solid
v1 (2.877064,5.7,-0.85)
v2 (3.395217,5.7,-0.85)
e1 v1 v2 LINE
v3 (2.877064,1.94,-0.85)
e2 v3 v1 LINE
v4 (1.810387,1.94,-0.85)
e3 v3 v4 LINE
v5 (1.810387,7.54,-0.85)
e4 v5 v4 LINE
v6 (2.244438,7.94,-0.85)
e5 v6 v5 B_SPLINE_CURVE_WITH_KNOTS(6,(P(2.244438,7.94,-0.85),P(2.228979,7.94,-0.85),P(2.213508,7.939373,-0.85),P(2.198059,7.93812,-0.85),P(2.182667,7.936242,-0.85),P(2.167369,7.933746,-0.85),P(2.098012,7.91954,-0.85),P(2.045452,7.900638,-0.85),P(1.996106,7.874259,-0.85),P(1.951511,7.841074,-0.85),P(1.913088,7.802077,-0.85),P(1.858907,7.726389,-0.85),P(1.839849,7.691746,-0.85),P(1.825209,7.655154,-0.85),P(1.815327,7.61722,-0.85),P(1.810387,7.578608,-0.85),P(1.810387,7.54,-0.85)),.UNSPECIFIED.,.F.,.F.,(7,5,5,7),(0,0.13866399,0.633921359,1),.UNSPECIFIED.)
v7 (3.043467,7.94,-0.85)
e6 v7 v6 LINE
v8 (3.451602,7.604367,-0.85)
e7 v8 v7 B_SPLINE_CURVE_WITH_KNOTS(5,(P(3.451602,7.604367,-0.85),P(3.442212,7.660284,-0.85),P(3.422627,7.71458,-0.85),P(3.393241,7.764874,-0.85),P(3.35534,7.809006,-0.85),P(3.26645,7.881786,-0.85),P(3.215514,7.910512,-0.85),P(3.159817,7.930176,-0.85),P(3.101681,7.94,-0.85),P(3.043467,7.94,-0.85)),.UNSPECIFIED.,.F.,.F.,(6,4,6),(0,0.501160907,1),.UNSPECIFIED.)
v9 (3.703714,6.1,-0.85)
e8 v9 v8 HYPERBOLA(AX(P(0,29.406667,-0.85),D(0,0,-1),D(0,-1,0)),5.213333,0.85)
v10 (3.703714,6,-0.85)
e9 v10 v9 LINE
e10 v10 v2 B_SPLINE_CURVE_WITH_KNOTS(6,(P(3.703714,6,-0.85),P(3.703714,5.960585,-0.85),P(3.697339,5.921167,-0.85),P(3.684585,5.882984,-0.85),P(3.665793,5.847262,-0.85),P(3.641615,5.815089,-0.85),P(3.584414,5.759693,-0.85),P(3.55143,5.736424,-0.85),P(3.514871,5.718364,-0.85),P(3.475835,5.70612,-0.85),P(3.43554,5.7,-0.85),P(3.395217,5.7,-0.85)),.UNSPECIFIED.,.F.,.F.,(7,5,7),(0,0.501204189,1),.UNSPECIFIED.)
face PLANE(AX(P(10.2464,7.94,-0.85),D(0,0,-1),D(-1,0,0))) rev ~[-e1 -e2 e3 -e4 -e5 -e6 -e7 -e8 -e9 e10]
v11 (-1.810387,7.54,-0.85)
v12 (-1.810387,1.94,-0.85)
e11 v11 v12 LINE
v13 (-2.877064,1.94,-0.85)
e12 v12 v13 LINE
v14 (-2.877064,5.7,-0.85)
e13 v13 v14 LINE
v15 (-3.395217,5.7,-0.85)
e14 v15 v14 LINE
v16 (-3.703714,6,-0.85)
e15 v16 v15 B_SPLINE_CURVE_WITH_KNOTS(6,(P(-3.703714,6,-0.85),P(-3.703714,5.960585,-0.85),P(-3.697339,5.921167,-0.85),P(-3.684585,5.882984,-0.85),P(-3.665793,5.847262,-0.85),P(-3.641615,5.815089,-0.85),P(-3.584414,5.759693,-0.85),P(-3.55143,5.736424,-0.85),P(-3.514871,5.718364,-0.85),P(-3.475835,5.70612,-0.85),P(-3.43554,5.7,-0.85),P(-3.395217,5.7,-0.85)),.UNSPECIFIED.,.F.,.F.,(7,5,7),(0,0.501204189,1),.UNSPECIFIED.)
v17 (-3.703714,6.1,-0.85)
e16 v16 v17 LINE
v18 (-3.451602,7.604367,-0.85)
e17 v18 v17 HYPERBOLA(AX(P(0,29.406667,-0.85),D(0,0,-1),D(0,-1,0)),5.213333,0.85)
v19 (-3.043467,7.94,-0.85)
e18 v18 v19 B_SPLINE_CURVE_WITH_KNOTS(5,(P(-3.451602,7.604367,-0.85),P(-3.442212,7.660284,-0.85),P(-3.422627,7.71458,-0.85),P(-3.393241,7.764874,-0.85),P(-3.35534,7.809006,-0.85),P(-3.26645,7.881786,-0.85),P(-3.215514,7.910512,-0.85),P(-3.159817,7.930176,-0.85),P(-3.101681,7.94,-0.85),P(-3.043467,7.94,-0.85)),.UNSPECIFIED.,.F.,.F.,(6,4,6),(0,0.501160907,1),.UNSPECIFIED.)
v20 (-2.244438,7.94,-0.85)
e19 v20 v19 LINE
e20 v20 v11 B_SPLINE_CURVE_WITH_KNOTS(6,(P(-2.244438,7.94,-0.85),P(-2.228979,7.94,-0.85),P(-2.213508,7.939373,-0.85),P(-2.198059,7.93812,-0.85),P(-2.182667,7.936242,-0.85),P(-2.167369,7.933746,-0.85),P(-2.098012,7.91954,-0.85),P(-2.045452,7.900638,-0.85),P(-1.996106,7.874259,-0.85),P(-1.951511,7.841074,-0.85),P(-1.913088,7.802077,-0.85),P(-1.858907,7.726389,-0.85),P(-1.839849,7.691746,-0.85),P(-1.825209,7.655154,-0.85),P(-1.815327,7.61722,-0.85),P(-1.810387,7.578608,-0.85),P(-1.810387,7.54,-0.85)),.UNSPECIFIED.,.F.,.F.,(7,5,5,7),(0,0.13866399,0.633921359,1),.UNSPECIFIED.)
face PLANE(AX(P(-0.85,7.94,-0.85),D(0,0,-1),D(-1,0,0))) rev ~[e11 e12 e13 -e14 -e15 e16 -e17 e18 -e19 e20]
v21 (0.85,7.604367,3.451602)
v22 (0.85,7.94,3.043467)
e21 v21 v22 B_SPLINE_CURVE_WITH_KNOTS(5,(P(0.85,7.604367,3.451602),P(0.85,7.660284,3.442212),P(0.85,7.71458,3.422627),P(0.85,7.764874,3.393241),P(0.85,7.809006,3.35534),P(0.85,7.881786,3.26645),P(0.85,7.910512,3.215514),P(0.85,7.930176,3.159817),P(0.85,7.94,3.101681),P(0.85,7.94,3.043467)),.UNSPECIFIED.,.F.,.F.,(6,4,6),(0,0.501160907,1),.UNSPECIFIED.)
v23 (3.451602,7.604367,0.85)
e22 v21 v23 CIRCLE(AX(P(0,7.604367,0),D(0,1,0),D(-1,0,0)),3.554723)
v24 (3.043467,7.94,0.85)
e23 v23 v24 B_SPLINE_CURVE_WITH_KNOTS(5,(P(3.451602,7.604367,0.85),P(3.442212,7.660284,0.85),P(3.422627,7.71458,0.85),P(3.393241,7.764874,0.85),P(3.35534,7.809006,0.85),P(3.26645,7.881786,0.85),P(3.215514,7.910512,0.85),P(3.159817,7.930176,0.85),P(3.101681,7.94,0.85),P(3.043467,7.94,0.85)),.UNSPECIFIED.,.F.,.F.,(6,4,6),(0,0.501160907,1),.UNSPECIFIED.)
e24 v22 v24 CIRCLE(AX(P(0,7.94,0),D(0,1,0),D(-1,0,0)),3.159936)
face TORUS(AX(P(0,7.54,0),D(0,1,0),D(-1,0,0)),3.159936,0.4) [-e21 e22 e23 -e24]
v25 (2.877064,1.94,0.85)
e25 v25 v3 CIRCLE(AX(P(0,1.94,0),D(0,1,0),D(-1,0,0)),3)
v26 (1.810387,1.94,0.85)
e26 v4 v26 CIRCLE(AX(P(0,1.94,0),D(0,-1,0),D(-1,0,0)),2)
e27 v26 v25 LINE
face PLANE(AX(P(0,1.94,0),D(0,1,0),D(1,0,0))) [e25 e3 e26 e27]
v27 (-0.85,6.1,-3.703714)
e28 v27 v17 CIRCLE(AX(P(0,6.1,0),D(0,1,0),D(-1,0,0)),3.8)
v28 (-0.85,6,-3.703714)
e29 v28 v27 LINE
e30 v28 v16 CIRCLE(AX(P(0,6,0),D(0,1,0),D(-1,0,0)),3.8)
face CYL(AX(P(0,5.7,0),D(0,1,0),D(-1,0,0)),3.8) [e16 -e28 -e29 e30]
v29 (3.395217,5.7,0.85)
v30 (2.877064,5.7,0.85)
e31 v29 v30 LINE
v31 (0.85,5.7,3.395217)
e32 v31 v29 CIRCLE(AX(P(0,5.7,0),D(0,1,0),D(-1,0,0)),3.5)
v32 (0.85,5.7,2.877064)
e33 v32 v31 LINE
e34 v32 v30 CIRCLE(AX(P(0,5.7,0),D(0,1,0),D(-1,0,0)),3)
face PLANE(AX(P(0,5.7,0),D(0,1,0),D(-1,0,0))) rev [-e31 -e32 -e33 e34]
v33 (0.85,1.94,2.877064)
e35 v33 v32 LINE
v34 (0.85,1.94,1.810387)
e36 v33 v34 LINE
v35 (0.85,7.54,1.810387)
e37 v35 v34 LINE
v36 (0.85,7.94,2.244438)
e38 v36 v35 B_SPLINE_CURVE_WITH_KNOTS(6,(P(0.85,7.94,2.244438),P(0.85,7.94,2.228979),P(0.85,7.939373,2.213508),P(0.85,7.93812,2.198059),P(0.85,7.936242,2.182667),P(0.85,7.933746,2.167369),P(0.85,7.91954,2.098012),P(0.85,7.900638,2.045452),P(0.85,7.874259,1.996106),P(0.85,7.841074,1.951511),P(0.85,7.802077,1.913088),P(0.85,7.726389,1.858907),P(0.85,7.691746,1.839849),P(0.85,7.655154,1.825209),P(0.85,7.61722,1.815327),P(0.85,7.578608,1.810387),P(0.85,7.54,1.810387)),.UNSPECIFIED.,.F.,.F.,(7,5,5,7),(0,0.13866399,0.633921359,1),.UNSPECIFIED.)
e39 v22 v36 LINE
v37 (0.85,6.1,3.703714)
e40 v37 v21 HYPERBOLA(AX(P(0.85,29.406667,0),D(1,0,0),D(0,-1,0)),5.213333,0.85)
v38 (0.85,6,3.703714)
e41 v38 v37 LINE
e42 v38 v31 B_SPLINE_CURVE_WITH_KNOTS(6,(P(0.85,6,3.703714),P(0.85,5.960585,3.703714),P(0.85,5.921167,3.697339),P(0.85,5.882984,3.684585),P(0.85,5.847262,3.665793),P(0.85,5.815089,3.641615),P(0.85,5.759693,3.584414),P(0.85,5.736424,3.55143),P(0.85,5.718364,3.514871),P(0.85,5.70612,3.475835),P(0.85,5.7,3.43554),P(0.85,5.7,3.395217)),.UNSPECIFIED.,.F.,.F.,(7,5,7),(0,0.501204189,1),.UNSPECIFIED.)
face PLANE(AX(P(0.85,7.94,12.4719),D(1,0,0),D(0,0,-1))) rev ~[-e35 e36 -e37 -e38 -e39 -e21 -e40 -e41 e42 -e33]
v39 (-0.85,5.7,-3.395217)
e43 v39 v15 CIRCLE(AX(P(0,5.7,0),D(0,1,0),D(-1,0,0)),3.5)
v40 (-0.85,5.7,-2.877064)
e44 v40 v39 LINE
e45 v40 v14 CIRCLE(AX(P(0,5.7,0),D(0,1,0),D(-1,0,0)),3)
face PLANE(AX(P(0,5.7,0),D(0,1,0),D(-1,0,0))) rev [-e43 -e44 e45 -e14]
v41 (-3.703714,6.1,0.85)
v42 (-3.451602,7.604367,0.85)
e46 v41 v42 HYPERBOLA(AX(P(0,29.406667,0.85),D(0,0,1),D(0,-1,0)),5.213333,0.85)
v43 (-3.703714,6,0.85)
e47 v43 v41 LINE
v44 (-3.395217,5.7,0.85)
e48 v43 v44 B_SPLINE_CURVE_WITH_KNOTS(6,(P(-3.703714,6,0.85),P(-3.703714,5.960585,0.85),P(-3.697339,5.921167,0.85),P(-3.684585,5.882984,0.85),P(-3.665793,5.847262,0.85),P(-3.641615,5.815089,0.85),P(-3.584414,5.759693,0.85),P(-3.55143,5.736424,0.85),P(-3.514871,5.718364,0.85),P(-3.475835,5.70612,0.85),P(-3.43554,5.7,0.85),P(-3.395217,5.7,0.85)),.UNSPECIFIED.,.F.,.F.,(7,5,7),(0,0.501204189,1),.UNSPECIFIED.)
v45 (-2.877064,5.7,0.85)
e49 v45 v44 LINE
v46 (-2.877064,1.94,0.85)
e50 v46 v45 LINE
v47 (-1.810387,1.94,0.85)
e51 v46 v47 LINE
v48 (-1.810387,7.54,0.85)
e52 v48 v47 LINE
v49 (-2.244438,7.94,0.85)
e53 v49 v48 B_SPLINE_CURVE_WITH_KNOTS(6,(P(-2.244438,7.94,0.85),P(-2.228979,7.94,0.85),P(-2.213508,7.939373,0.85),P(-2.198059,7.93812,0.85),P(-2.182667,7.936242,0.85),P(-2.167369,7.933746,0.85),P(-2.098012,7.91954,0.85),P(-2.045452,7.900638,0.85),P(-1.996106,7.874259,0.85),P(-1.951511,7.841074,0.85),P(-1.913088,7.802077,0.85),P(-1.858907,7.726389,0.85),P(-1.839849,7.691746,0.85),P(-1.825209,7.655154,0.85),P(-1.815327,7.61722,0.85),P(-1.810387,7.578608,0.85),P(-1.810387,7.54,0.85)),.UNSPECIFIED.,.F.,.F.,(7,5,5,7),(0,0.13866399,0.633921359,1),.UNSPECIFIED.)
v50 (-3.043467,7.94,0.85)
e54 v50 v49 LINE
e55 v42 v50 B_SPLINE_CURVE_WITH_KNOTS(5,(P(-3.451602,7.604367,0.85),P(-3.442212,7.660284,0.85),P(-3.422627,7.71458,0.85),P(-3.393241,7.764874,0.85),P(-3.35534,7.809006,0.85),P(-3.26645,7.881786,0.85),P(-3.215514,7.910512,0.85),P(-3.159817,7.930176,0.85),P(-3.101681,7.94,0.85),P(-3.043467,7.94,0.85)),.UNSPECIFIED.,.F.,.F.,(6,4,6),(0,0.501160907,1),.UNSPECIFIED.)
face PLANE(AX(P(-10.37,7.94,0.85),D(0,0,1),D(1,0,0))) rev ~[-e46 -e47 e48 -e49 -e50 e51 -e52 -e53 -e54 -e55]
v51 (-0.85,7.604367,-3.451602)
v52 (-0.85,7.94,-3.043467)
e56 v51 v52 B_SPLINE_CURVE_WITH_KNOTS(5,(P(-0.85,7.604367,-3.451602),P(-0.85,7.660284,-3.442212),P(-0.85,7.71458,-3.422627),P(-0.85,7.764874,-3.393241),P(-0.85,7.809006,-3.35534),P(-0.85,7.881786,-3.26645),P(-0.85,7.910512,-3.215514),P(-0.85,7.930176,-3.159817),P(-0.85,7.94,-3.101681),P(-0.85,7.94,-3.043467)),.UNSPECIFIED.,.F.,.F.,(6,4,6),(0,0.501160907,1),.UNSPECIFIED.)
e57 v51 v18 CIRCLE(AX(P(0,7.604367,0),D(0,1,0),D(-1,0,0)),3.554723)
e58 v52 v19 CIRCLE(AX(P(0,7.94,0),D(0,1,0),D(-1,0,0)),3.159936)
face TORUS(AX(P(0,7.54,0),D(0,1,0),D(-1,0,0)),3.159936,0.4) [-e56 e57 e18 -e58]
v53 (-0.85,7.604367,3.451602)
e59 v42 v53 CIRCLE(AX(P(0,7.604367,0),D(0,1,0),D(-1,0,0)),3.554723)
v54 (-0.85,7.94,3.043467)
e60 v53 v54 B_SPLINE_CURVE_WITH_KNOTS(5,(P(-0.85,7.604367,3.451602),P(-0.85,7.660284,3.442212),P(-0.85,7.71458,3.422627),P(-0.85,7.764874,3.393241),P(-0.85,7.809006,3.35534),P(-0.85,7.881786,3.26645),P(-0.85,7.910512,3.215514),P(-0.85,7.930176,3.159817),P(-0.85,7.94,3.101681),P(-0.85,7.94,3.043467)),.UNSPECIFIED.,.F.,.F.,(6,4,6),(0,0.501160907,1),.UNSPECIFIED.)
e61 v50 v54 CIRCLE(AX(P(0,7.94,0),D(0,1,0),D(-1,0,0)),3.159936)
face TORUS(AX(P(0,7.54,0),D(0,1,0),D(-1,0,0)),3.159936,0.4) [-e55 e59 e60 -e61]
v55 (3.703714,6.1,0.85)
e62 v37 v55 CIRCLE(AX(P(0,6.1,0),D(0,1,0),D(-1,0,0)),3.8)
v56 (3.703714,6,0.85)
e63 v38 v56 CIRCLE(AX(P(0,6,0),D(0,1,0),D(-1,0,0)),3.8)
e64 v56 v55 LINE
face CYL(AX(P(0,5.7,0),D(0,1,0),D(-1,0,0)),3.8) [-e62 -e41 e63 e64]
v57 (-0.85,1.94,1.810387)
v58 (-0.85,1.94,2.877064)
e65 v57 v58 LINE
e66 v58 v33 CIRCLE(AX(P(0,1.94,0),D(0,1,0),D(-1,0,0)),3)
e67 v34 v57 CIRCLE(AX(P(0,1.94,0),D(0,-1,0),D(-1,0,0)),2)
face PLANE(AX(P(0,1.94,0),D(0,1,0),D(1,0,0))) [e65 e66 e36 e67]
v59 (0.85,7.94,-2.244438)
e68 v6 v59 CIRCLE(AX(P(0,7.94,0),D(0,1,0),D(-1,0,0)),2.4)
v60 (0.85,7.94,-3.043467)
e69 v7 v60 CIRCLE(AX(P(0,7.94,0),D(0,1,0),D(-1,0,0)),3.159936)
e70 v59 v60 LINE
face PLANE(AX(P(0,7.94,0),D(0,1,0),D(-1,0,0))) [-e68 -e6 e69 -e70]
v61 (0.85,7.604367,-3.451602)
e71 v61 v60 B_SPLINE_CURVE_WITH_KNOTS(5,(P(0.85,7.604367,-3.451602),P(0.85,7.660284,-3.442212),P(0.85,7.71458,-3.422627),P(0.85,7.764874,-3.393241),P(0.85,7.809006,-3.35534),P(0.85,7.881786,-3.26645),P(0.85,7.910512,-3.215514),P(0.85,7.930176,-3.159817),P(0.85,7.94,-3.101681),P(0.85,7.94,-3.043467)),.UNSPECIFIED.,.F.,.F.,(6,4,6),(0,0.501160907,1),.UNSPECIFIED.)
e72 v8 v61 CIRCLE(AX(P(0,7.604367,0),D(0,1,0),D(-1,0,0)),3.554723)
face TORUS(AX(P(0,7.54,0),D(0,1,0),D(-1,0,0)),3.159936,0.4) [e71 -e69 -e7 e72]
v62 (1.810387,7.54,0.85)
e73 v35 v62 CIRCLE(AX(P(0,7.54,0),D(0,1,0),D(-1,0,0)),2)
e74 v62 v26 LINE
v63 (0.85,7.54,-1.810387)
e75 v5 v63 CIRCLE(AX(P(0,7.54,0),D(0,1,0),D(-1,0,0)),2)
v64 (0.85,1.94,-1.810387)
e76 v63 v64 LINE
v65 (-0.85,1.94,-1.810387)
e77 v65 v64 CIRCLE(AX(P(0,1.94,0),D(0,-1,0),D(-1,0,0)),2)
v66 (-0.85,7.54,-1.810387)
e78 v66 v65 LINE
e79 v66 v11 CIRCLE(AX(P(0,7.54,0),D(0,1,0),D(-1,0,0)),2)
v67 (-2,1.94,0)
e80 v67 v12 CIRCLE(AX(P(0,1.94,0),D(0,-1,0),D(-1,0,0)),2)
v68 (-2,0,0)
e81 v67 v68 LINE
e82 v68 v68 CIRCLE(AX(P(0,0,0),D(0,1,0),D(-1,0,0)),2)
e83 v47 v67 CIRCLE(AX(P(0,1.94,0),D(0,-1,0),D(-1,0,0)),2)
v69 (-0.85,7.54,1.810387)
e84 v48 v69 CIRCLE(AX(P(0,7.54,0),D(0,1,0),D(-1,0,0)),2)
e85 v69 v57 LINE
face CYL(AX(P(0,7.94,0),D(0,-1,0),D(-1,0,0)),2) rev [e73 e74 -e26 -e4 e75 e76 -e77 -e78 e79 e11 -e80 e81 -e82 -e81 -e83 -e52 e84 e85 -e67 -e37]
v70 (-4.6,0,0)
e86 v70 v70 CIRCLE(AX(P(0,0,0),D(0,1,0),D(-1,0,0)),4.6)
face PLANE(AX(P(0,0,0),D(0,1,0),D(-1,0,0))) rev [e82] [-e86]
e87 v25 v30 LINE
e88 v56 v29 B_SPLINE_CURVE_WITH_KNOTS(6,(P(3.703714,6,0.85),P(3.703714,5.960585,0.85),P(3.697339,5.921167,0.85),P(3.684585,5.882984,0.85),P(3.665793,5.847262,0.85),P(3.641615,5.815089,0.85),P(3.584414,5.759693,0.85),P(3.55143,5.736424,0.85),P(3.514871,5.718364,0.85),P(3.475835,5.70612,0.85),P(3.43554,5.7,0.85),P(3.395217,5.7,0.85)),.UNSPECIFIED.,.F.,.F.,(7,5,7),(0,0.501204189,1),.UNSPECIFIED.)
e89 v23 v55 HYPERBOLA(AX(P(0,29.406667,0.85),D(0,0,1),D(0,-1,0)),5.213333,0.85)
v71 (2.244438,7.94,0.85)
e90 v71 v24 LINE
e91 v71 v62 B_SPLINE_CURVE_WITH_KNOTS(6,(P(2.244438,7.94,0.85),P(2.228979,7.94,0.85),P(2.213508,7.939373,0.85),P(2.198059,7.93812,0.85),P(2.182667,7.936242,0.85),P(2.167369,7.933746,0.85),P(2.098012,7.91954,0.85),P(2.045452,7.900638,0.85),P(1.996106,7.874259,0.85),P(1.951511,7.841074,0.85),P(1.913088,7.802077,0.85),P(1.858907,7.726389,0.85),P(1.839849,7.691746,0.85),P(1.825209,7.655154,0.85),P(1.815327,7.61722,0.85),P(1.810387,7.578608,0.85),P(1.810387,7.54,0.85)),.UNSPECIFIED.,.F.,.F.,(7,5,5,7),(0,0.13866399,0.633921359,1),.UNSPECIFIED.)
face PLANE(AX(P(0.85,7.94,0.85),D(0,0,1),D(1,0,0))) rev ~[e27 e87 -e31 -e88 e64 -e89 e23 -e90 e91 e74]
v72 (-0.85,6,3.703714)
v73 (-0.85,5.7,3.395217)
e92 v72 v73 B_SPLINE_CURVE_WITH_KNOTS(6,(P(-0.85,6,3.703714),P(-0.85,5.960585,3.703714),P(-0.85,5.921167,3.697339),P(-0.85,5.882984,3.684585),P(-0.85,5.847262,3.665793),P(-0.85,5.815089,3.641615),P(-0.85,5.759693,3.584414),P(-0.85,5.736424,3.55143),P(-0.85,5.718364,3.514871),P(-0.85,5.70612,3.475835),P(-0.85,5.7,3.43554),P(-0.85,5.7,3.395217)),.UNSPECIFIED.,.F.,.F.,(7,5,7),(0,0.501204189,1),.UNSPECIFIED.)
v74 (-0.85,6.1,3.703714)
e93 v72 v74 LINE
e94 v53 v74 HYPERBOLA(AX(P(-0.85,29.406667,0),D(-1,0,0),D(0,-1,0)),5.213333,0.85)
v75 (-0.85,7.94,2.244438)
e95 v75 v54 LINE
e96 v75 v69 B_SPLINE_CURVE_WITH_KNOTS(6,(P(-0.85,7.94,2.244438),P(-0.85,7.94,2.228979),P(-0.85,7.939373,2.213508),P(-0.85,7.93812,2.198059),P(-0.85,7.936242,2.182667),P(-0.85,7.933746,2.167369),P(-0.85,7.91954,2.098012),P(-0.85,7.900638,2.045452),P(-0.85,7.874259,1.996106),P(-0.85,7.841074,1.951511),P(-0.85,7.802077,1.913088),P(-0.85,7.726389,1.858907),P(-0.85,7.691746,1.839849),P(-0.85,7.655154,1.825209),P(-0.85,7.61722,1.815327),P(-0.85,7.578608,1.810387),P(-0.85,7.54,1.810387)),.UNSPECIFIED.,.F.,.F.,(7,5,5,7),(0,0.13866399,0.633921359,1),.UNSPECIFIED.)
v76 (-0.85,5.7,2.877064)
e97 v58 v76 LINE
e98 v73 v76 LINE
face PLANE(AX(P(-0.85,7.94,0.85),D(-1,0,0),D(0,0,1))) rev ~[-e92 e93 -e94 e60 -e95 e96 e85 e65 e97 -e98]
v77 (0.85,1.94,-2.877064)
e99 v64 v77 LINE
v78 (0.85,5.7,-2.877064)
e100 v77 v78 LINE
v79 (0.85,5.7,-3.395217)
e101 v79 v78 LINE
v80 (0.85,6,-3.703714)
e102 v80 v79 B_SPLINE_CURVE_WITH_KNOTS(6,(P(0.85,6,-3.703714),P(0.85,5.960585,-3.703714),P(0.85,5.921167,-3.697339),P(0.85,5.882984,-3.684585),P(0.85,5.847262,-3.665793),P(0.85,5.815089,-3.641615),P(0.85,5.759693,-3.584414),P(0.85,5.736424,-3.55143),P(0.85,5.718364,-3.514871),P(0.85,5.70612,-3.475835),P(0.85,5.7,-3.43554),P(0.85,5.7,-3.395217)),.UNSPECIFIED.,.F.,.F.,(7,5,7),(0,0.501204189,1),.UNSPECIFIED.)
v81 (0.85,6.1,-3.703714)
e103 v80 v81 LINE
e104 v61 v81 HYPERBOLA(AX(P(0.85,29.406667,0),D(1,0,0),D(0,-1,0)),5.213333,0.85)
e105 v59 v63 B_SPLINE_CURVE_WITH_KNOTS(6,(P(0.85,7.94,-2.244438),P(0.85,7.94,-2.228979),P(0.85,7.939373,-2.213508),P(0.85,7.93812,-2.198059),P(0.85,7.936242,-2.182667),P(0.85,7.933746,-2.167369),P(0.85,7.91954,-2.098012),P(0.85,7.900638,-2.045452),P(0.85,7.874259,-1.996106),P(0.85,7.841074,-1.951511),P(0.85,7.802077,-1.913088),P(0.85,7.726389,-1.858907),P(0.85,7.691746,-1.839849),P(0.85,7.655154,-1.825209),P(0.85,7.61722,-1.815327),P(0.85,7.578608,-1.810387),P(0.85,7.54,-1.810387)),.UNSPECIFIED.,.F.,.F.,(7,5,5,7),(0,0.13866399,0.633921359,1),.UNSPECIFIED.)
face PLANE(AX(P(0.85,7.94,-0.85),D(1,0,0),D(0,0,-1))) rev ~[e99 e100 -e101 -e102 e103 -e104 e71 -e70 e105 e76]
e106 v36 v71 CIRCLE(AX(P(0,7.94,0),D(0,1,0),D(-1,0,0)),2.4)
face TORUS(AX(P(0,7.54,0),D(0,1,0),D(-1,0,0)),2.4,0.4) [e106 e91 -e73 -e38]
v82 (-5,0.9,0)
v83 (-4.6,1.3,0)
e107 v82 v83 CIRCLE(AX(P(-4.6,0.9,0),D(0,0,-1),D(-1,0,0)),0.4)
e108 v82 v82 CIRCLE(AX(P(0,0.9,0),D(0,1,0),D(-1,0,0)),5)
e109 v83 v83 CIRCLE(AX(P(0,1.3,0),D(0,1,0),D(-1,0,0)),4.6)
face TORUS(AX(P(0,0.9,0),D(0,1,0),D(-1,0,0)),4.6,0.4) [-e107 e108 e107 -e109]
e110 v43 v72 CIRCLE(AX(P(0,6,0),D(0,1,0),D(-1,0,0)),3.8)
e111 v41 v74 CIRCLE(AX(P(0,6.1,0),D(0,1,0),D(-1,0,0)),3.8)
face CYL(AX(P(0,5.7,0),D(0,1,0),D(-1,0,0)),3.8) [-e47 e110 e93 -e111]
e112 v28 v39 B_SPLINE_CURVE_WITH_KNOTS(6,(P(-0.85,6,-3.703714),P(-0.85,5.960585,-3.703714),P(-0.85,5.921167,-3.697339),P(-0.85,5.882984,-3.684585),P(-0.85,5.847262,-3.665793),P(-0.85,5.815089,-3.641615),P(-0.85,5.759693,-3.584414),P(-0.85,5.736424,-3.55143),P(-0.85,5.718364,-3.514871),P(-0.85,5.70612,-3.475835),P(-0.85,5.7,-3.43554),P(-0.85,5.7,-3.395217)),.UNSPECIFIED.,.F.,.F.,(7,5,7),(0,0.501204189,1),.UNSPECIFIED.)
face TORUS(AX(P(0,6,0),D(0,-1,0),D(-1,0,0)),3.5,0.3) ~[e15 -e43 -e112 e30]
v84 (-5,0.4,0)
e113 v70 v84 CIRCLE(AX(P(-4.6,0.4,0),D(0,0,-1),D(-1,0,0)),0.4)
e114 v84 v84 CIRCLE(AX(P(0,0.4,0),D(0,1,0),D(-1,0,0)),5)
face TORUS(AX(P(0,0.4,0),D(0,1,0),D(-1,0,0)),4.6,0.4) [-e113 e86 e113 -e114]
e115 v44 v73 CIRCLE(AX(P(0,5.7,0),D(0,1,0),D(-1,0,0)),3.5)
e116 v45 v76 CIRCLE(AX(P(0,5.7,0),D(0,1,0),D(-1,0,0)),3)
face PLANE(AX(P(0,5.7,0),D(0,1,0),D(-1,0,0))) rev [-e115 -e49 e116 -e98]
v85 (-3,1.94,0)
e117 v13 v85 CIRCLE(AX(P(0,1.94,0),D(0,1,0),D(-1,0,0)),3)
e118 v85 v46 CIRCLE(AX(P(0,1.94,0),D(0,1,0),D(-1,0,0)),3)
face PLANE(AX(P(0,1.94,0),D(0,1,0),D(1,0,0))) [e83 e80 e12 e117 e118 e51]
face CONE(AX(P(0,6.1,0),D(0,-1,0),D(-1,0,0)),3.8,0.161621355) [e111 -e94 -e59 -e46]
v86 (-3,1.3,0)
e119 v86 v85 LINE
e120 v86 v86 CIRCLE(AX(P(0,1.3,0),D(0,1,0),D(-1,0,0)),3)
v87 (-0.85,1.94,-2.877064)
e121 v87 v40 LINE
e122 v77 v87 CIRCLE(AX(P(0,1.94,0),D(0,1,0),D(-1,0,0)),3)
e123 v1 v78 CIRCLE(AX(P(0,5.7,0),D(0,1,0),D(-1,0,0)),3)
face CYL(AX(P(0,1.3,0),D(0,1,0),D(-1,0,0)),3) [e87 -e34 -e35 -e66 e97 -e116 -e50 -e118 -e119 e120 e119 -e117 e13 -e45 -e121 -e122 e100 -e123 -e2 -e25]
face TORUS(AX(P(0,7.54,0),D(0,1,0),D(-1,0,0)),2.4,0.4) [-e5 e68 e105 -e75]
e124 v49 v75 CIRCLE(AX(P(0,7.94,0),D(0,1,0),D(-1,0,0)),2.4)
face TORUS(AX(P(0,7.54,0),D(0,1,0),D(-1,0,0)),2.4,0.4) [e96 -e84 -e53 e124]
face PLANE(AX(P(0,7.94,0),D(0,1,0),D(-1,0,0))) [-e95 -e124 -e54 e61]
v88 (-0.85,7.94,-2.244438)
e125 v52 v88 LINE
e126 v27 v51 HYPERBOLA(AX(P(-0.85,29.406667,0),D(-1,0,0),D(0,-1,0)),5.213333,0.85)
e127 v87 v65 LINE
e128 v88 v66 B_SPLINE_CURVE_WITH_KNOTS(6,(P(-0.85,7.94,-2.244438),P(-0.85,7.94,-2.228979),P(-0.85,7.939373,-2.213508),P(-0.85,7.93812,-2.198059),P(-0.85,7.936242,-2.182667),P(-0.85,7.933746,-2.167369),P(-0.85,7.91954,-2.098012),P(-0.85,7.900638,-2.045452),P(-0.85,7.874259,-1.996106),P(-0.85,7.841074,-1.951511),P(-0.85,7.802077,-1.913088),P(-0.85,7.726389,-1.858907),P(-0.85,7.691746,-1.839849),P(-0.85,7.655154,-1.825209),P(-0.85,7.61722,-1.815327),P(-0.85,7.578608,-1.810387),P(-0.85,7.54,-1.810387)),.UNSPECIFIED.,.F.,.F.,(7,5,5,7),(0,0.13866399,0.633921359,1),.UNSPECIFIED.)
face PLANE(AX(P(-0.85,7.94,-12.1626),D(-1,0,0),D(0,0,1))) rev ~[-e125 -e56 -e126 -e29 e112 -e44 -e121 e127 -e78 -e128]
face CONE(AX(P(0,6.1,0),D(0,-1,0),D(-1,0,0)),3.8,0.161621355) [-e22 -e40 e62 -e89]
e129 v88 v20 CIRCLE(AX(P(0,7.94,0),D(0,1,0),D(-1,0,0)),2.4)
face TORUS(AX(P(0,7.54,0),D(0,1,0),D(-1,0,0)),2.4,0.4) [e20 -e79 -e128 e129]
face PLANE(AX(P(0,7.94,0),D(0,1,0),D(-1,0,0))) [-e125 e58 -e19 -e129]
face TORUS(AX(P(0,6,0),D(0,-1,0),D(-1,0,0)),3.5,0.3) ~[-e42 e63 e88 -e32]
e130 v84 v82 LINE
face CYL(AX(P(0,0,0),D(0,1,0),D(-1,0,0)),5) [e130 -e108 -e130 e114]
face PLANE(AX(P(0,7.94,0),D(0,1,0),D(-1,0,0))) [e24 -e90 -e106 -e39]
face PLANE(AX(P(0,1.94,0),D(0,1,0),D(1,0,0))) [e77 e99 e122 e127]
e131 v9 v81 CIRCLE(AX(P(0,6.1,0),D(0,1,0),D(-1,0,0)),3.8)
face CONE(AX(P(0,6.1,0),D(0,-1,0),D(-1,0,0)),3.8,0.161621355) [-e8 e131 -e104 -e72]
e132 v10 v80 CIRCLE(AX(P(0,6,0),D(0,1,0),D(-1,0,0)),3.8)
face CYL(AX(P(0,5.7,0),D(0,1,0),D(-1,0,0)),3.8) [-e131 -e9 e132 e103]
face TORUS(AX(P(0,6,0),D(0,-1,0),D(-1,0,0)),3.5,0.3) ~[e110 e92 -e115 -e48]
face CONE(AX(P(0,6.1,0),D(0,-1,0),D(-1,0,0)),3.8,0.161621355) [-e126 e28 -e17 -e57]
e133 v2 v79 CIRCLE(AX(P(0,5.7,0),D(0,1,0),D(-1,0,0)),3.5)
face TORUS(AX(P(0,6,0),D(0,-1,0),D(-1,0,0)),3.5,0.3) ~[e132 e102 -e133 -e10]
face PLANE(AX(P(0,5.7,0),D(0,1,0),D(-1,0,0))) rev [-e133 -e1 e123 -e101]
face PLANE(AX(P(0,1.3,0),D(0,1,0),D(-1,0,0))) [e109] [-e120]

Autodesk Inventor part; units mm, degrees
ref_plane "YZ Plane" through (0, 0, 0) normal (1, 0, 0) x (0, 1, 0)
ref_plane "XZ Plane" through (0, 0, 0) normal (0, 1, 0) x (-1, 0, 0)
ref_plane "XY Plane" through (0, 0, 0) normal (0, 0, 1) x (1, 0, 0)
sketch "Эскиз1" plane through (0, 0, 0) normal (0, 0, 1) x (1, 0, 0)
  line L0 (0, 0) -> (0, 11.7004) construction
  line L1 (0, 0) -> (-23.4572, 0) construction
  line L2 (0, 0) -> (-5, 0)
  line L3 (-5, 0) -> (-5, 1.3)
  line L4 (-5, 1.3) -> (-3, 1.3)
  line L5 (-3, 1.3) -> (-3, 5.7)
  line L6 (-3, 5.7) -> (-3.8, 5.7)
  line L7 (-3.8, 5.7) -> (-3.8, 6.1)
  line L8 (-3.8, 6.1) -> (-3.5, 7.94)
  line L9 (-3.5, 7.94) -> (-2, 7.94)
  line L10 (-2, 7.94) -> (-2, 0)
  dimension "d0" = 5
  dimension "d1" = 1.3
  dimension "d2" = 3
  dimension "d3" = 4.4
  dimension "d4" = 2
  dimension "d5" = 7.94
  dimension "d6" = 3.5
  dimension "d8" = 3.8
  dimension "d9" = 0.4
revolve "Вращение1" add sketch "Эскиз1" angle 360 about axis through (0, 0, 0) along (0, 1, 0)
fillet "Сопряжение1" radius 0.4 2 edges at (5, 1.3, 0) (5, 0, 0)
fillet "Сопряжение2" radius 0.3 1 edges at (3.8, 5.7, 0)
fillet "Сопряжение3" radius 0.4 2 edges at (3.5, 7.94, 0) (2, 7.94, 0)
sketch "Эскиз2" plane through (0, 7.94, 0) normal (0, 1, 0) x (1, 0, 0)
  line L0 (-10.37, -0.85) -> (10.2464, -0.85)
  line L1 (10.2464, -0.85) -> (10.2464, 0.85)
  line L2 (10.2464, 0.85) -> (-10.37, 0.85)
  line L3 (-10.37, 0.85) -> (-10.37, -0.85)
  line L4 (-0.85, -12.4719) -> (0.85, -12.4719)
  line L5 (0.85, -12.4719) -> (0.85, 12.1626)
  line L6 (0.85, 12.1626) -> (-0.85, 12.1626)
  line L7 (-0.85, 12.1626) -> (-0.85, -12.4719)
  line L8 (0, 0) -> (-10.37, 0) construction
  line L9 (0, 0) -> (0, -12.4719) construction
  dimension "d14" = 1.7
  dimension "d15" = 1.7
extrude "Выдавливание1" cut sketch "Эскиз2" against normal blind 6
properties part number "NF-Crazy   фитинг"
